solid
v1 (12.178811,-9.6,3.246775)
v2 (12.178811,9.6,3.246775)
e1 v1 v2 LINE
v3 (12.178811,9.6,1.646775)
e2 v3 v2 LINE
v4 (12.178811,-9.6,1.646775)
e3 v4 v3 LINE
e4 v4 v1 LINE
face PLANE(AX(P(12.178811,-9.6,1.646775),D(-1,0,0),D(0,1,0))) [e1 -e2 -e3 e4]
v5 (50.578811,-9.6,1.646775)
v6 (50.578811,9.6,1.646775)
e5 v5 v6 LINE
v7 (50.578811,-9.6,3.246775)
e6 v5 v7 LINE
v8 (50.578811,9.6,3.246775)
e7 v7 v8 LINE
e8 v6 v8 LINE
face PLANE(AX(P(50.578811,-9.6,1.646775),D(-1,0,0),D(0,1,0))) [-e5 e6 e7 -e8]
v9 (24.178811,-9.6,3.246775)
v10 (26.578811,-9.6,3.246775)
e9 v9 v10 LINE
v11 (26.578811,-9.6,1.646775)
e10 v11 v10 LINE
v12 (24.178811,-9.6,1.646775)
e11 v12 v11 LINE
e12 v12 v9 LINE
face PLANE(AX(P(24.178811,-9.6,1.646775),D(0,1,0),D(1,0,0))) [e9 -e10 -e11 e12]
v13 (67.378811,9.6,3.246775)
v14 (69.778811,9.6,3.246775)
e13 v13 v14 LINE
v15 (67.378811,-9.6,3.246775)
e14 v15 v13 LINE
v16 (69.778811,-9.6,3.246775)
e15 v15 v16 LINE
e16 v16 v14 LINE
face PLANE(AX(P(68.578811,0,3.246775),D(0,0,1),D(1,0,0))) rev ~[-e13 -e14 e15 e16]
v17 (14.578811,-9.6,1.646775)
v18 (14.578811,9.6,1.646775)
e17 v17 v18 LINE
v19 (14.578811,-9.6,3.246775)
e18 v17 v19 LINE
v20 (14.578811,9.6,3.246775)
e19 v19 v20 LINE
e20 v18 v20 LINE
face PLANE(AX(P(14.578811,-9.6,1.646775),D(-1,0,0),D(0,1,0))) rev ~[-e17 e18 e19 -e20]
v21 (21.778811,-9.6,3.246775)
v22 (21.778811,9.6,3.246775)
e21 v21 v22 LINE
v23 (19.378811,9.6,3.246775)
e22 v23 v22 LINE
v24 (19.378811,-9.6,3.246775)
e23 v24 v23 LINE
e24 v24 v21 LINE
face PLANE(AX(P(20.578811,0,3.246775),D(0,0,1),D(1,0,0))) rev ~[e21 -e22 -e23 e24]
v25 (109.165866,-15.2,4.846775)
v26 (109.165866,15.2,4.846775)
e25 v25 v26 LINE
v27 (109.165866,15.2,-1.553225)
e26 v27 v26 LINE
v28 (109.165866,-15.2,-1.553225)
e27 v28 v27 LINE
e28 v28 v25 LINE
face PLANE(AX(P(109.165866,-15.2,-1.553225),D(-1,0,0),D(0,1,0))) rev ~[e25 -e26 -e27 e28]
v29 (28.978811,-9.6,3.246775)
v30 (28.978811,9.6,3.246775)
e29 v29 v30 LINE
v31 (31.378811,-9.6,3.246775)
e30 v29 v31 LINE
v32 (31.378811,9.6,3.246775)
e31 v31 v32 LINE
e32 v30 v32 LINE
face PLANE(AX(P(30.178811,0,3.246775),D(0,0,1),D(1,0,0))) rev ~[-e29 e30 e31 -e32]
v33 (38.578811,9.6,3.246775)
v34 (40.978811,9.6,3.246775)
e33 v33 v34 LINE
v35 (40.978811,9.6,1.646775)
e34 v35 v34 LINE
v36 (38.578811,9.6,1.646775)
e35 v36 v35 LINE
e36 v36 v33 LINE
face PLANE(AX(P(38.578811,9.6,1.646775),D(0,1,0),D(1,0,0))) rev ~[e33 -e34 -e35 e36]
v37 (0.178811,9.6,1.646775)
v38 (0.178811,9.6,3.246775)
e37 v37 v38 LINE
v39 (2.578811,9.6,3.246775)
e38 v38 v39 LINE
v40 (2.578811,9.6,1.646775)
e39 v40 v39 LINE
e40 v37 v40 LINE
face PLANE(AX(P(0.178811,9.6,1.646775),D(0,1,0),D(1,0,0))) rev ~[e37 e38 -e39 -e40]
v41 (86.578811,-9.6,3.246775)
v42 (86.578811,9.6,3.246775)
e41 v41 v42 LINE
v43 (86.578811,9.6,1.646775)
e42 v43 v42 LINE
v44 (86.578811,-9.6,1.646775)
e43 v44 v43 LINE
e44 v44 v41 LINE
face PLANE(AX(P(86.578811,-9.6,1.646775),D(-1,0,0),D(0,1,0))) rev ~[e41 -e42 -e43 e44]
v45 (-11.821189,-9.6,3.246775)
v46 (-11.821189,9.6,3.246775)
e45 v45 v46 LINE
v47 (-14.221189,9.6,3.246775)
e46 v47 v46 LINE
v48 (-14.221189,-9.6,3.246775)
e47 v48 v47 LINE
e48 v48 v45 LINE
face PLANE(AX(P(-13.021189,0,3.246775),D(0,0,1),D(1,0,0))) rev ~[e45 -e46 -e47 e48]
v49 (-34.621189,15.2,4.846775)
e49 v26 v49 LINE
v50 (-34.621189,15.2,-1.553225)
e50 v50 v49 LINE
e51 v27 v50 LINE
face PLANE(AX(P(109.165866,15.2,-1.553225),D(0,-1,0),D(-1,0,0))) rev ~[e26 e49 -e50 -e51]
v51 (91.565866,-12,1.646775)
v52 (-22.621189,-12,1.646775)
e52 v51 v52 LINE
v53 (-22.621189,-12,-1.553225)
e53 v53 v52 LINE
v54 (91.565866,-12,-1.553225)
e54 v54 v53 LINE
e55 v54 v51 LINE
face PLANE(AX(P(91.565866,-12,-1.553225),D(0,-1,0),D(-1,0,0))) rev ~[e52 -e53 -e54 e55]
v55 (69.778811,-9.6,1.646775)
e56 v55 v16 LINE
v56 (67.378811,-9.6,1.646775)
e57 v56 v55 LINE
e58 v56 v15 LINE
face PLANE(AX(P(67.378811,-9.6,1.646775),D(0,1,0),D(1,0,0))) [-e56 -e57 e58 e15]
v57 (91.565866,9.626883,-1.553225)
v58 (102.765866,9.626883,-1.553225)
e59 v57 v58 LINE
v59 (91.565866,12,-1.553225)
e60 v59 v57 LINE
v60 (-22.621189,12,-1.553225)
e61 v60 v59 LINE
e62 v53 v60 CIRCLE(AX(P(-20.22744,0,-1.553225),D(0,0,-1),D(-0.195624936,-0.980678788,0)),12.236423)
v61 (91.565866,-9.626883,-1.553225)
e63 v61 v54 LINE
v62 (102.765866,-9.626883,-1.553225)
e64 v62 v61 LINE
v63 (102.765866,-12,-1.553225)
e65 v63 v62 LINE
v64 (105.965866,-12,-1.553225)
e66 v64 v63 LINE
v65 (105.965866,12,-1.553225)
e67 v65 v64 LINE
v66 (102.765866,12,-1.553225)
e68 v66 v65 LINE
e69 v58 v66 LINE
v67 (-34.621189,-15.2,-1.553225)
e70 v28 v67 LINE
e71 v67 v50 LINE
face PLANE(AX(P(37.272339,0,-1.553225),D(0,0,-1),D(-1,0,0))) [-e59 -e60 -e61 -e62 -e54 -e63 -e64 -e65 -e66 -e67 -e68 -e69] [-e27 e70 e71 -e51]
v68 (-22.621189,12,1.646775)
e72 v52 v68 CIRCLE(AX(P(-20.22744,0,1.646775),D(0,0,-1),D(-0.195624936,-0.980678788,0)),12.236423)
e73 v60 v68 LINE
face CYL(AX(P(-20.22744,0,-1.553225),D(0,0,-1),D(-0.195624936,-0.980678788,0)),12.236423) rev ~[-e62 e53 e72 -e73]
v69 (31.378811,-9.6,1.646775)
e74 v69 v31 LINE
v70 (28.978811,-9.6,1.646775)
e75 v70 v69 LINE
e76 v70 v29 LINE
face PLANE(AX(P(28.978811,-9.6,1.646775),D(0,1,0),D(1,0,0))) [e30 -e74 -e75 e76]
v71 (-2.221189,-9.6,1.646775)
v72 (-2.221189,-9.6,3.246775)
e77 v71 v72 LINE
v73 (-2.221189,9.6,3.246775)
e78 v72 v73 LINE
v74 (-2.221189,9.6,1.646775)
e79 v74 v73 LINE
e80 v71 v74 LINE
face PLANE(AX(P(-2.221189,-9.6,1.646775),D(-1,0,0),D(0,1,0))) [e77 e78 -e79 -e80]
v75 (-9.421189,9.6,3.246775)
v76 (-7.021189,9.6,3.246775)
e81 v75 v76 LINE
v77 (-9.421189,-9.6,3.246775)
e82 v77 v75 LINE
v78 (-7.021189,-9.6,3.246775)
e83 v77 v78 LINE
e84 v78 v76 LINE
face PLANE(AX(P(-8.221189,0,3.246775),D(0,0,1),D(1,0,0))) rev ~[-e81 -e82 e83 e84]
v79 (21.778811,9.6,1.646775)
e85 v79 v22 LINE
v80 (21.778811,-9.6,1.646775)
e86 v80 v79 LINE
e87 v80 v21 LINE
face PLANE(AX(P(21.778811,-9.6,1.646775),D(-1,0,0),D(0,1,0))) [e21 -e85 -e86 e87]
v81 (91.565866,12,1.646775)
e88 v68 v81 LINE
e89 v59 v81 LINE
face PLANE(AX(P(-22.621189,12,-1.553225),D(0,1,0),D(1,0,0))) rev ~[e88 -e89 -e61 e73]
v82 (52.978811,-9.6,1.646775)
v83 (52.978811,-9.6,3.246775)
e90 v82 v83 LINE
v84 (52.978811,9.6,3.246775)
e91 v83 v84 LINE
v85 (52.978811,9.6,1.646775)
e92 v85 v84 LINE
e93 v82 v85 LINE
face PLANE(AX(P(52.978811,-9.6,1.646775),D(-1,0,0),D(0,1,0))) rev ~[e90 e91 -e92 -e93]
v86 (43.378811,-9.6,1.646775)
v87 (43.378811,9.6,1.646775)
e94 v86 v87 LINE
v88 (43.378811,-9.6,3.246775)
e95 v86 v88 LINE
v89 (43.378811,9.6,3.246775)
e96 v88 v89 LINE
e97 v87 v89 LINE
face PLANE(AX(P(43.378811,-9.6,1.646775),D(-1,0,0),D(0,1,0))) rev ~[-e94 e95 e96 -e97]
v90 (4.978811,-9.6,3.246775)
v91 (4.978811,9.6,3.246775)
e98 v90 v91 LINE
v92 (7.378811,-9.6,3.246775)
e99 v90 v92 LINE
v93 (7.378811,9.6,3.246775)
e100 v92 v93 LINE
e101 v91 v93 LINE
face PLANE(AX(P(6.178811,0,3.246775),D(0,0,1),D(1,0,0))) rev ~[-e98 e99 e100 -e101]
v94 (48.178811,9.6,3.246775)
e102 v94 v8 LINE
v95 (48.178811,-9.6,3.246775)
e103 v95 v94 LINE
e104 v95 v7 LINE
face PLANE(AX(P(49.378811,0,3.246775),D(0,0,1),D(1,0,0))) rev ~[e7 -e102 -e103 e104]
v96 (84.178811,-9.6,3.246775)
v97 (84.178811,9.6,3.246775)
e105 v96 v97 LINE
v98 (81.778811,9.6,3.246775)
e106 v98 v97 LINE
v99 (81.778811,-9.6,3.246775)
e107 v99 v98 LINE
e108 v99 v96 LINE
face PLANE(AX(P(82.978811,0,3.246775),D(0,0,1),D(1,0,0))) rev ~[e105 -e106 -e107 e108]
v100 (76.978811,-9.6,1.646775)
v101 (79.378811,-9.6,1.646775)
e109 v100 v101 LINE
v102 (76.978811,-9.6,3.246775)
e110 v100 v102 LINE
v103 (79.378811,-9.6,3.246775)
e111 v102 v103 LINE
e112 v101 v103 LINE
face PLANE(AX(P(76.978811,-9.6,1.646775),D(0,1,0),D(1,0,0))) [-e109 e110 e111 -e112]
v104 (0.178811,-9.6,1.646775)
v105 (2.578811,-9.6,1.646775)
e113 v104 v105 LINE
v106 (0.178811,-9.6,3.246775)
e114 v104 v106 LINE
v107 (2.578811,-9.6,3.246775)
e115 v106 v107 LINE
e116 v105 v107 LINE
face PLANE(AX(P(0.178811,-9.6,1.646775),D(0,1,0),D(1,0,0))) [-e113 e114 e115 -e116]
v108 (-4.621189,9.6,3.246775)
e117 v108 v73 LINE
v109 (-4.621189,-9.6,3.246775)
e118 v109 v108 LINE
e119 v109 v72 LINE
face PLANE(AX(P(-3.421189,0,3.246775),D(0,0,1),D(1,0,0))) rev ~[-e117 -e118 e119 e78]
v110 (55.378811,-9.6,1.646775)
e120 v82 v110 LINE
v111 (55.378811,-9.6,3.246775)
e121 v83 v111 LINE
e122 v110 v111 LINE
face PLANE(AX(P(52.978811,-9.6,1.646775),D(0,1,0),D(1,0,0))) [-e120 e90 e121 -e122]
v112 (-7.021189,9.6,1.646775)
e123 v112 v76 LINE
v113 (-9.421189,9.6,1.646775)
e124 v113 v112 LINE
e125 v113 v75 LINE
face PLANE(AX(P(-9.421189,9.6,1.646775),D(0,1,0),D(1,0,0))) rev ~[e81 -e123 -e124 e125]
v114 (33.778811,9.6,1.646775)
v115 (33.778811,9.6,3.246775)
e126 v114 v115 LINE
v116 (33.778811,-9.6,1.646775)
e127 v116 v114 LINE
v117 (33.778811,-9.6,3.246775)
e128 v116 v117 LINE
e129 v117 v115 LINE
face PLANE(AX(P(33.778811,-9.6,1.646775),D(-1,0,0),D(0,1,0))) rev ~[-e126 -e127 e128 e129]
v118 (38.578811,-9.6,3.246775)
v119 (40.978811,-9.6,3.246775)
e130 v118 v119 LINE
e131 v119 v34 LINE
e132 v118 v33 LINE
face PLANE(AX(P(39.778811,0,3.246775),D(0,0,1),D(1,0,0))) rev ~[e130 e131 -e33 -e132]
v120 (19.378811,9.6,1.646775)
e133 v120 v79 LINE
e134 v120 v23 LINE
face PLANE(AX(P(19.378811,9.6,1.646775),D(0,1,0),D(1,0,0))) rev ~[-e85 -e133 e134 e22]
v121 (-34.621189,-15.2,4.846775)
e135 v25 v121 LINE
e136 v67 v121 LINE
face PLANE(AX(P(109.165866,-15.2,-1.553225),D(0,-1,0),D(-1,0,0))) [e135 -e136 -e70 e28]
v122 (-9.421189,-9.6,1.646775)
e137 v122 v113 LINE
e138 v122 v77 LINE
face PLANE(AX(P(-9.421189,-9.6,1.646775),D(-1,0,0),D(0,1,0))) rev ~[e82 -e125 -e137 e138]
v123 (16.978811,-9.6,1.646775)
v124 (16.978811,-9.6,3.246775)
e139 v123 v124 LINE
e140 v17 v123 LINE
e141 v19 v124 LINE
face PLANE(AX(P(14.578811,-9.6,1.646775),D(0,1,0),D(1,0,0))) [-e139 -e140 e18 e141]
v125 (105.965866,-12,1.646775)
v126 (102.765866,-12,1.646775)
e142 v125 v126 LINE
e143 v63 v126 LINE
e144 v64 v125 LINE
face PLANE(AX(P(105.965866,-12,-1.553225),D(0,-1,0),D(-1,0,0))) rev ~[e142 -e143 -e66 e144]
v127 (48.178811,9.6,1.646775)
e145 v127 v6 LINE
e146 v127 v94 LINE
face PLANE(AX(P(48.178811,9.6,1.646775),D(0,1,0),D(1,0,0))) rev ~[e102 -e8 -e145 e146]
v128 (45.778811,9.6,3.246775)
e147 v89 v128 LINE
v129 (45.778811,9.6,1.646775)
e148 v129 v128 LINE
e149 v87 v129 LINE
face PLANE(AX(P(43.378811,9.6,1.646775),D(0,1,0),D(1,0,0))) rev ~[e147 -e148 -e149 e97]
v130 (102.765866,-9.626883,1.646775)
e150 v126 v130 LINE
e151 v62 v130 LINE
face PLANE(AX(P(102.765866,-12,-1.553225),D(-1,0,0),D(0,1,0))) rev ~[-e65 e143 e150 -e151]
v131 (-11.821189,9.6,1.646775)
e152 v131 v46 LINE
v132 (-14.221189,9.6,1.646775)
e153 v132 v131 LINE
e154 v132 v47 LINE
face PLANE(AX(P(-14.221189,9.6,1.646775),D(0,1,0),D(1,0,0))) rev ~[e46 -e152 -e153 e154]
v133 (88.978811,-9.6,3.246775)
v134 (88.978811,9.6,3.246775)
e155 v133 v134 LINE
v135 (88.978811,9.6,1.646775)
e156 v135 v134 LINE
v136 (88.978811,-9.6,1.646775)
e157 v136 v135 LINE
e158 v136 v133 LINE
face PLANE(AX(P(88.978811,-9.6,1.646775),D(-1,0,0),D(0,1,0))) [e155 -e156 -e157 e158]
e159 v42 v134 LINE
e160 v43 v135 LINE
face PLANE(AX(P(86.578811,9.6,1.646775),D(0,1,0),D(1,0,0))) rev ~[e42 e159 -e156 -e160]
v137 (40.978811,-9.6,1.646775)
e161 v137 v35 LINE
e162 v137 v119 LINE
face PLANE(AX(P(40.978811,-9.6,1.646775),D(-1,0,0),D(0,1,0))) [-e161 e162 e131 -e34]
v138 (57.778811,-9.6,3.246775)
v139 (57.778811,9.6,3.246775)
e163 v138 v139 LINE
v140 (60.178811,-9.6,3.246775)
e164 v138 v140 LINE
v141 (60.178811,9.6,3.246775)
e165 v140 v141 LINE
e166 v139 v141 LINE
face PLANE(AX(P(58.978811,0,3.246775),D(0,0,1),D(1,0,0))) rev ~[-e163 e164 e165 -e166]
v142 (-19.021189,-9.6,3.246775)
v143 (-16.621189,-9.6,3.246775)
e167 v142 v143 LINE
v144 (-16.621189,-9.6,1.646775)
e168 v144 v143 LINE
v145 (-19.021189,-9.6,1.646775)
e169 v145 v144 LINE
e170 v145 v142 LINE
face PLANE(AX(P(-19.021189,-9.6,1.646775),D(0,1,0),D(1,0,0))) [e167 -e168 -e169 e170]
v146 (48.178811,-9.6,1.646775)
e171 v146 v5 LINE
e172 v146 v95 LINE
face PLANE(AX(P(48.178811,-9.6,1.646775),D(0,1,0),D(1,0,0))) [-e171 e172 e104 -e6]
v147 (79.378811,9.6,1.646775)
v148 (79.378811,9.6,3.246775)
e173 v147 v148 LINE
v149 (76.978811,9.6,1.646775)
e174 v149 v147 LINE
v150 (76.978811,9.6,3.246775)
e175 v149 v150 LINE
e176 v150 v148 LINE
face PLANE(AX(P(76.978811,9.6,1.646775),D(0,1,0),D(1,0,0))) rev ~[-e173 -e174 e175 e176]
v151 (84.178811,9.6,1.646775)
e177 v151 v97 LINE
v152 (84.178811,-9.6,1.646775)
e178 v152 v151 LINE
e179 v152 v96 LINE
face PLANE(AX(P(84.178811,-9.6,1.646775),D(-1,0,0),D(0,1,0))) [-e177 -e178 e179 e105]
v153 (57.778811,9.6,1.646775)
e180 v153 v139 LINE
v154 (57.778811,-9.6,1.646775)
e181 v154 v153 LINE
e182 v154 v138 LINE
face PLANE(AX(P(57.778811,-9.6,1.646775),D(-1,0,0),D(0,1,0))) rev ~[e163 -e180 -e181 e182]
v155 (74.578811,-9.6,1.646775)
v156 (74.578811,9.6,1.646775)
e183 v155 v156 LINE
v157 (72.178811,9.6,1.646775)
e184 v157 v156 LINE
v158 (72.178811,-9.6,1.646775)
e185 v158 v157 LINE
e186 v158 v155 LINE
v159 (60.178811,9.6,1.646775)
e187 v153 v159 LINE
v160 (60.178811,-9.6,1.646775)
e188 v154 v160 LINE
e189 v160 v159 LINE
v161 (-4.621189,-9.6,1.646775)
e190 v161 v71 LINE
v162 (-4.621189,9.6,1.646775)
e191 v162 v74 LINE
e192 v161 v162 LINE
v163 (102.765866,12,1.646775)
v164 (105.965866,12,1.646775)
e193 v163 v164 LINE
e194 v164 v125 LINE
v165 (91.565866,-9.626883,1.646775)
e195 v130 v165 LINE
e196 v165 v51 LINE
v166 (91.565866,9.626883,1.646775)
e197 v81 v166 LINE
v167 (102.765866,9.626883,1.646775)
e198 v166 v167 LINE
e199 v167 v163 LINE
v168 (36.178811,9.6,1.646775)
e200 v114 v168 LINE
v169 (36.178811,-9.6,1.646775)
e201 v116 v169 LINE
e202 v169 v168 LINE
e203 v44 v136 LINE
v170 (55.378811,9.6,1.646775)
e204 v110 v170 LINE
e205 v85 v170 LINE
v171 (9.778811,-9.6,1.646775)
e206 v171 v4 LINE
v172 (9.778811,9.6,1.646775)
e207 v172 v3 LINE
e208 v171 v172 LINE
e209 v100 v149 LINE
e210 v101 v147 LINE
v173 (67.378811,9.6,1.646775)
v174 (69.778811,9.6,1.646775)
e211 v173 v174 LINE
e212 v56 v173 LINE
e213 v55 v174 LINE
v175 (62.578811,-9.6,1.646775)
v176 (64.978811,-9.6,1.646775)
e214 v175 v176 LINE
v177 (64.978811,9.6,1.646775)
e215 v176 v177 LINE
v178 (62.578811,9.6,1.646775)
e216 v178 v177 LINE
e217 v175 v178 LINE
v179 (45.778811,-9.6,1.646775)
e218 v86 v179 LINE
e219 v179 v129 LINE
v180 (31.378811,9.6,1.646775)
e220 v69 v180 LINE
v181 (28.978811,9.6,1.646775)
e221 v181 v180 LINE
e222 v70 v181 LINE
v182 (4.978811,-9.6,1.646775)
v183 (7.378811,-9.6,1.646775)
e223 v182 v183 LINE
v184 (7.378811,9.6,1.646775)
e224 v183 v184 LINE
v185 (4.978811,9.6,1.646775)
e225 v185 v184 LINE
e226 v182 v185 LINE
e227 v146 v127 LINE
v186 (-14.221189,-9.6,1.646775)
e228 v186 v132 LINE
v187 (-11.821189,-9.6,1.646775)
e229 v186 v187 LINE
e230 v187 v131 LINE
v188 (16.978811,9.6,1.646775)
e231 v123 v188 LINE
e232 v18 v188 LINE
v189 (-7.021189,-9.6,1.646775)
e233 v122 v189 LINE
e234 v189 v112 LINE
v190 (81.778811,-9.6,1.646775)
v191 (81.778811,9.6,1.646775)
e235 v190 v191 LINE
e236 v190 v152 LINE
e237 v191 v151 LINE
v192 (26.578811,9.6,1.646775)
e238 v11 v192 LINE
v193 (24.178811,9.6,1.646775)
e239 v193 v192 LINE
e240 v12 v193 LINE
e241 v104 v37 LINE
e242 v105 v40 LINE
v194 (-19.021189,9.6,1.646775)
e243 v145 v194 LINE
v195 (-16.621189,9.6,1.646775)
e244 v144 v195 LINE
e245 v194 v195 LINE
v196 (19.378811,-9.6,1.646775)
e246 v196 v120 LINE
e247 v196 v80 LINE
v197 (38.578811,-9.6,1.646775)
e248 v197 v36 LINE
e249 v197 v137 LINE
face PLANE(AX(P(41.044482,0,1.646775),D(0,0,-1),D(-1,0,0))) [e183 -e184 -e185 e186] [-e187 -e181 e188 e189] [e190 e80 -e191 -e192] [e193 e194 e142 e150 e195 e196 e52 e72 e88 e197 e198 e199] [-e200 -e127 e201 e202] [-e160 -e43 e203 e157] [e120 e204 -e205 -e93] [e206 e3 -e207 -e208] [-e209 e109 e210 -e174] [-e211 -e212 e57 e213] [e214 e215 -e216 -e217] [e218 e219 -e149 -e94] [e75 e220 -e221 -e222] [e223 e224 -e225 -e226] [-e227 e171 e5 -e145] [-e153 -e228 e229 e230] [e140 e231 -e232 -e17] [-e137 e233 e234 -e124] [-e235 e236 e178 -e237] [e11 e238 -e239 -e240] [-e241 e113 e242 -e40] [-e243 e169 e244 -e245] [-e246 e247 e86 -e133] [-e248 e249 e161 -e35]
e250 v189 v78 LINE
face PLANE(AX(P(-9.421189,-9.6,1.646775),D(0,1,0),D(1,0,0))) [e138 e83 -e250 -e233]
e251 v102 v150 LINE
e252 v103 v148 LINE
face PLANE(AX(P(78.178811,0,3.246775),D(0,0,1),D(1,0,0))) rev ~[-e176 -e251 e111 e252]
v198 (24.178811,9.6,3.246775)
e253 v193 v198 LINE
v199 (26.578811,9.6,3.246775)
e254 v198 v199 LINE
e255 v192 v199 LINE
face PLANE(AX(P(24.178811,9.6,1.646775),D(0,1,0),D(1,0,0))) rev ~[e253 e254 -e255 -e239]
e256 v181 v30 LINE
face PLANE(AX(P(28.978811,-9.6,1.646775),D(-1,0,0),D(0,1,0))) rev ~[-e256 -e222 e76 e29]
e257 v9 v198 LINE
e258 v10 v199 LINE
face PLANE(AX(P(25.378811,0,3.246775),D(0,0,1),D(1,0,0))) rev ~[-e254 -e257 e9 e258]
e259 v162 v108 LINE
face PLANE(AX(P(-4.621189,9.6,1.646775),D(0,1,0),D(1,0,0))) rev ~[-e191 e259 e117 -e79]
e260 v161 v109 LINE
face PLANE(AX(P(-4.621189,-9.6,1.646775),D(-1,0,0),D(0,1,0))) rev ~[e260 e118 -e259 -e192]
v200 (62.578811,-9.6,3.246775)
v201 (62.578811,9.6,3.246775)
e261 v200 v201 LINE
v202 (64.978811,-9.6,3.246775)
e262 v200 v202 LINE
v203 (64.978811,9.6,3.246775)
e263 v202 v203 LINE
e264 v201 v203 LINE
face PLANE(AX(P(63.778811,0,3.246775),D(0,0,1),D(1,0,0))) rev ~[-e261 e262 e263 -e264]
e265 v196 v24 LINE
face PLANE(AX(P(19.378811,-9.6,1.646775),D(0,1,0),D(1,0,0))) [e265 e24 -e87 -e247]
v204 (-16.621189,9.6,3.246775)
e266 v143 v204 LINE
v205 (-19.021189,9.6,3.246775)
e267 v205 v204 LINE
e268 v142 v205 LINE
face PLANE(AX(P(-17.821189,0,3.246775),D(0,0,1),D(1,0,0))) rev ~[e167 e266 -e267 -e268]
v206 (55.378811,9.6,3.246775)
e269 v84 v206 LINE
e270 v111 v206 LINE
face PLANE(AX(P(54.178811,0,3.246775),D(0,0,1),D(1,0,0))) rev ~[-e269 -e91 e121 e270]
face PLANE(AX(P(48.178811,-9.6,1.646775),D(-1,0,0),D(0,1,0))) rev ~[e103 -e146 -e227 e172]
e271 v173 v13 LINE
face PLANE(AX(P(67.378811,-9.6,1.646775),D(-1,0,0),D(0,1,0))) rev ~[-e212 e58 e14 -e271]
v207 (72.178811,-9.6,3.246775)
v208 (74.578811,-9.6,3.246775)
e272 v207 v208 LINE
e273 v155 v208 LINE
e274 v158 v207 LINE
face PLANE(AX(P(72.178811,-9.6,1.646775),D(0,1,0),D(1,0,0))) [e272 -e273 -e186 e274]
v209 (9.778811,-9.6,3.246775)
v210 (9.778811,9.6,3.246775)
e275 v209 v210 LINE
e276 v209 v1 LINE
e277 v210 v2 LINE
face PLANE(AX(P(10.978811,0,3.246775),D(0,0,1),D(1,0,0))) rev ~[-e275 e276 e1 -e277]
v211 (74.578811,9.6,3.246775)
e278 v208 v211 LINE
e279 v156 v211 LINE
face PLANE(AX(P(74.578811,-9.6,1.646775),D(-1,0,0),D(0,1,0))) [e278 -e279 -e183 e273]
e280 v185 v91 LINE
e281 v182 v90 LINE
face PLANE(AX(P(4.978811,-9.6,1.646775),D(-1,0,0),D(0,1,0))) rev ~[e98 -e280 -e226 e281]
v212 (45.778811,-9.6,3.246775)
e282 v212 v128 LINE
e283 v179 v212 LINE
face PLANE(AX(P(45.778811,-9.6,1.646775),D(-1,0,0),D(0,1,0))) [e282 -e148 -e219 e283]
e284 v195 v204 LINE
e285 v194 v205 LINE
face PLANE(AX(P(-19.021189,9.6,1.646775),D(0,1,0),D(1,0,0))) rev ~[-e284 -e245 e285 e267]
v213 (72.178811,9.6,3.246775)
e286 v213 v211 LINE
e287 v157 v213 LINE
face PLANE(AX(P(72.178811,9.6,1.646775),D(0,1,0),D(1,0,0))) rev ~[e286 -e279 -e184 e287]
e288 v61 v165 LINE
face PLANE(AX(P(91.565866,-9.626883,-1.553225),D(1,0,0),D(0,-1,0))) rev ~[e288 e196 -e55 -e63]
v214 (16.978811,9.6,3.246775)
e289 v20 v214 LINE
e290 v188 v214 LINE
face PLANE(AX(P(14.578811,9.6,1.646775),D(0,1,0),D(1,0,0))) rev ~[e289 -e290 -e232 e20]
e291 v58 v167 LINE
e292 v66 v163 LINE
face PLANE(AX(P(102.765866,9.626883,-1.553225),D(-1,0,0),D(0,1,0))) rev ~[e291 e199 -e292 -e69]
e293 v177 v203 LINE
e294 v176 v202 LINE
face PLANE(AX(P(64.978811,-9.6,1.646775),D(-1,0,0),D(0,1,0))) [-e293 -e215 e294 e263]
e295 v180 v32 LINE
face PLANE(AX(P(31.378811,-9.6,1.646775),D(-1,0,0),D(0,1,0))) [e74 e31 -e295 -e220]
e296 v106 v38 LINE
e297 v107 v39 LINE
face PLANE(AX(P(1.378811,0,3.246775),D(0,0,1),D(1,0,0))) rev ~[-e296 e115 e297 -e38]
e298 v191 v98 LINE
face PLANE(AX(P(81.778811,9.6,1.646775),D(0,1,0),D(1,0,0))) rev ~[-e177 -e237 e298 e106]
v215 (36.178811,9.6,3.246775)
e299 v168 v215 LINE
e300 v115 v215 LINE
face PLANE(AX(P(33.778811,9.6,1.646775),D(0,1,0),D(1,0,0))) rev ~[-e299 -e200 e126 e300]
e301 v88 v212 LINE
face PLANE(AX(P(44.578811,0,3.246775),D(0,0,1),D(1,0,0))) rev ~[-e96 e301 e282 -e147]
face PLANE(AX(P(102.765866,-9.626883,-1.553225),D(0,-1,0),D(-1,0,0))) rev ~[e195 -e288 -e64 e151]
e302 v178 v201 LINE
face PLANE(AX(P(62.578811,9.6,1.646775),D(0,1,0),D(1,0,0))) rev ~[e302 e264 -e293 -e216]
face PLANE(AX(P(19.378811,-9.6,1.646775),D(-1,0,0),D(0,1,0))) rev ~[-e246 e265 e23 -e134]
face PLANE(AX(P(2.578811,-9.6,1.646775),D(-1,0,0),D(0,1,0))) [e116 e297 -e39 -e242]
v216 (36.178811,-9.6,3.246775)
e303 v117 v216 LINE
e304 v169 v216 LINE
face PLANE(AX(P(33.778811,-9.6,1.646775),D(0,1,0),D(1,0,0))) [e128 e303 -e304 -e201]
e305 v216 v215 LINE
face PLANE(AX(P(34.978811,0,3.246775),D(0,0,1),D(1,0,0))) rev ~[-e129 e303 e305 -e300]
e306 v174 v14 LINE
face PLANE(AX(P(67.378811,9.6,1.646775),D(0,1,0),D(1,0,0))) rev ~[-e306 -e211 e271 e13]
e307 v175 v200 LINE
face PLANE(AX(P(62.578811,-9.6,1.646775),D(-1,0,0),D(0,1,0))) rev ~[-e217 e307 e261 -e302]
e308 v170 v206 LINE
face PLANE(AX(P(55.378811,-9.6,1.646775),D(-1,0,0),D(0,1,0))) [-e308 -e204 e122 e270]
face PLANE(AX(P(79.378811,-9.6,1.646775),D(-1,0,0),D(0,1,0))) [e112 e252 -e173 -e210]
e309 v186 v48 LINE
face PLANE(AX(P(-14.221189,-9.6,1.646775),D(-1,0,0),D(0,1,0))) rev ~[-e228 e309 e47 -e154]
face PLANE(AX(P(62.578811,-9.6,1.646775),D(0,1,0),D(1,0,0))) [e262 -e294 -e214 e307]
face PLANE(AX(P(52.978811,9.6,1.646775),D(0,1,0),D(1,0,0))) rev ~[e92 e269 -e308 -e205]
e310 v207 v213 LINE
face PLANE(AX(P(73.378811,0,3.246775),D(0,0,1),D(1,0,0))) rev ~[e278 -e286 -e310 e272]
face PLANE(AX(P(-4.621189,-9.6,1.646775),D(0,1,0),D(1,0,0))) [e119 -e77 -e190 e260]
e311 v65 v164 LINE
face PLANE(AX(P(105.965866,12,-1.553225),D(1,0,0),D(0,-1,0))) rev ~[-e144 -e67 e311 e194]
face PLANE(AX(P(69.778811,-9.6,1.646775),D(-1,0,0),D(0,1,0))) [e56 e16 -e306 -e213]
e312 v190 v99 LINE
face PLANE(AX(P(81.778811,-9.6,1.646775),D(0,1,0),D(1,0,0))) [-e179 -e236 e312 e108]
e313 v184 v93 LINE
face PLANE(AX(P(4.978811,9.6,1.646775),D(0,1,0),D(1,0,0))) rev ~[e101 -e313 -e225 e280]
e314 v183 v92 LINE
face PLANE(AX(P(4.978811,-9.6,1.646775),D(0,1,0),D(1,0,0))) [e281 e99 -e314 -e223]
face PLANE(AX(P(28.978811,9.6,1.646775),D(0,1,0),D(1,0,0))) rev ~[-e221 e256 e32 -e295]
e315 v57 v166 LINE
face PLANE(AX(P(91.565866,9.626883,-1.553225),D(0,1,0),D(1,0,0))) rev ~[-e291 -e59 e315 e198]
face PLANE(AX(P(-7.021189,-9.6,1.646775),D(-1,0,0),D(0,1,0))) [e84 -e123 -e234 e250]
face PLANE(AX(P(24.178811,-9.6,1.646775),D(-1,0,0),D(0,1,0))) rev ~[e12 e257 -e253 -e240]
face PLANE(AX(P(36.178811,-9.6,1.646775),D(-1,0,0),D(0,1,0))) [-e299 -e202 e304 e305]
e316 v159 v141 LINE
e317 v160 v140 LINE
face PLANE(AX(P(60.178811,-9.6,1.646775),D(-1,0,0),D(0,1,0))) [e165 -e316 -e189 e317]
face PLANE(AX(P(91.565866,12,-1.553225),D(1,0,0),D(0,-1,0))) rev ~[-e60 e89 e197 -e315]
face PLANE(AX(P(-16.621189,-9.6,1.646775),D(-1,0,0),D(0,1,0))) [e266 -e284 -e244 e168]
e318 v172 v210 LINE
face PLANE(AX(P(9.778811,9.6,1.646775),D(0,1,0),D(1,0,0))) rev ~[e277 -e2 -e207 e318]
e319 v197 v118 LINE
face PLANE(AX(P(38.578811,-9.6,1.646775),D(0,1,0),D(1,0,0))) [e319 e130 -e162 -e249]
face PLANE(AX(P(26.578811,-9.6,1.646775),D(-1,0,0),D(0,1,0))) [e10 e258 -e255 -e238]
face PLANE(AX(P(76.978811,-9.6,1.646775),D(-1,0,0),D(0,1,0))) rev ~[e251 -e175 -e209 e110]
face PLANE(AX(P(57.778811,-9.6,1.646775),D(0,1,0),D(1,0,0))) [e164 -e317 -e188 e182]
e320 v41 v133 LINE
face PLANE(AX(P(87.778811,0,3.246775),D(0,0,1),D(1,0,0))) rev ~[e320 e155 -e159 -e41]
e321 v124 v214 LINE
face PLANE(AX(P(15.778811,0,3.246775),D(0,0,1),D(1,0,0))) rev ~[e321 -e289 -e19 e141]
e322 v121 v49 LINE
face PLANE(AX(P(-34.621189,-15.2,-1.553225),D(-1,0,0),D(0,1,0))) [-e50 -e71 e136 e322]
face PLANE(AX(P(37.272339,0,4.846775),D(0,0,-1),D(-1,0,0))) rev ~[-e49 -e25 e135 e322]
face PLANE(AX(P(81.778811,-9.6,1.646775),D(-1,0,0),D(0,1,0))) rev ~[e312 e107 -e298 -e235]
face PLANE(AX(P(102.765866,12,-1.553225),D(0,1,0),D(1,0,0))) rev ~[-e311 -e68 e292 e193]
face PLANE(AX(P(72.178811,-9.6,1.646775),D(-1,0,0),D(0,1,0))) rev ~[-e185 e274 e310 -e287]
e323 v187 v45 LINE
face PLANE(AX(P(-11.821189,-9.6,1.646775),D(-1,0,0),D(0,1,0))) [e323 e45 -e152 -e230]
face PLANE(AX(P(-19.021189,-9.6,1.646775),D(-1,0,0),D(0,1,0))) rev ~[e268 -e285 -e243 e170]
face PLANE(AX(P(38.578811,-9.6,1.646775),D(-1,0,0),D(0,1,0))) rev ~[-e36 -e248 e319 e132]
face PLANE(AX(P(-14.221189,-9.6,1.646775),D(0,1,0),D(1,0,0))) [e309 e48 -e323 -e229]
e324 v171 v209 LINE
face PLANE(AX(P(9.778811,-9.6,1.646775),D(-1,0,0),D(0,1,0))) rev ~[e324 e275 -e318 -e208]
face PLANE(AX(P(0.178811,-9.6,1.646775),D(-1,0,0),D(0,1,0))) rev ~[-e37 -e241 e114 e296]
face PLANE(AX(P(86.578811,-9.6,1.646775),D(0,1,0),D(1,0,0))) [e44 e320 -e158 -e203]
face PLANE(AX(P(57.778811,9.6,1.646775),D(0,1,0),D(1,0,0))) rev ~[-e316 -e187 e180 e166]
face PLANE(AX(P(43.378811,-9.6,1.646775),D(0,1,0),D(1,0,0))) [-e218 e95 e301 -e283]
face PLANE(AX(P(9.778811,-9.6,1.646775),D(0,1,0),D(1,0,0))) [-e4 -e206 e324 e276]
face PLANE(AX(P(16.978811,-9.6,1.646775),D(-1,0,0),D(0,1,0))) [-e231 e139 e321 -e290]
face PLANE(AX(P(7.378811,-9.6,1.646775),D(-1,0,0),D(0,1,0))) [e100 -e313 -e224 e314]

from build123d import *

# Parameters (mm, degrees)
EXTRUDE_1_DEPTH = 2
SKETCH_2_W      = 1.5
SKETCH_2_H      = 12
EXTRUDE_2_DEPTH = 1
SKETCH_3_W      = 89.86690944
SKETCH_3_H      = 19
EXTRUDE_3_DEPTH = 4
SCALE_1_SCALE   = 1.6


with BuildPart() as part:
    # 草图1 → 凸台-拉伸1 (new body)
    with BuildSketch(Plane.XY):
        with BuildLine():
            Line((0, 7.5), (71.36690944, 7.5))
            Line((71.36690944, 7.5), (71.36690944, 6.01680195))
            Line((71.36690944, 6.01680195), (78.36690944, 6.01680195))
            Line((78.36690944, 6.01680195), (78.36690944, 7.5))
            Line((78.36690944, 7.5), (80.36690944, 7.5))
            Line((80.36690944, 7.5), (80.36690944, -7.5))
            Line((80.36690944, -7.5), (78.36690944, -7.5))
            Line((78.36690944, -7.5), (78.36690944, -6.01680195))
            Line((78.36690944, -6.01680195), (71.36690944, -6.01680195))
            Line((71.36690944, -6.01680195), (71.36690944, -7.5))
            Line((71.36690944, -7.5), (0, -7.5))
            ThreePointArc((0, -7.5), (-6.151670717, 0), (0, 7.5))
        make_face()
    extrude(amount=EXTRUDE_1_DEPTH)

    # 草图2 → 凸台-拉伸2 (add)
    with BuildSketch(Plane.XY.offset(2)):
        with Locations((3, 0)):
            Rectangle(SKETCH_2_W, SKETCH_2_H)
        with Locations((6, 0)):
            Rectangle(SKETCH_2_W, SKETCH_2_H)
        with Locations((9, 0)):
            Rectangle(SKETCH_2_W, SKETCH_2_H)
        with Locations((12, 0)):
            Rectangle(SKETCH_2_W, SKETCH_2_H)
        with Locations((15, 0)):
            Rectangle(SKETCH_2_W, SKETCH_2_H)
        with Locations((18, 0)):
            Rectangle(SKETCH_2_W, SKETCH_2_H)
        with Locations((21, 0)):
            Rectangle(SKETCH_2_W, SKETCH_2_H)
        with Locations((24, 0)):
            Rectangle(SKETCH_2_W, SKETCH_2_H)
        with Locations((27, 0)):
            Rectangle(SKETCH_2_W, SKETCH_2_H)
        with Locations((30, 0)):
            Rectangle(SKETCH_2_W, SKETCH_2_H)
        with Locations((33, 0)):
            Rectangle(SKETCH_2_W, SKETCH_2_H)
        with Locations((36, 0)):
            Rectangle(SKETCH_2_W, SKETCH_2_H)
        with Locations((39, 0)):
            Rectangle(SKETCH_2_W, SKETCH_2_H)
        with Locations((42, 0)):
            Rectangle(SKETCH_2_W, SKETCH_2_H)
        with Locations((45, 0)):
            Rectangle(SKETCH_2_W, SKETCH_2_H)
        with Locations((48, 0)):
            Rectangle(SKETCH_2_W, SKETCH_2_H)
        with Locations((51, 0)):
            Rectangle(SKETCH_2_W, SKETCH_2_H)
        with Locations((54, 0)):
            Rectangle(SKETCH_2_W, SKETCH_2_H)
        with Locations((57, 0)):
            Rectangle(SKETCH_2_W, SKETCH_2_H)
        with Locations((60, 0)):
            Rectangle(SKETCH_2_W, SKETCH_2_H)
        with Locations((63, 0)):
            Rectangle(SKETCH_2_W, SKETCH_2_H)
        with Locations((66, 0)):
            Rectangle(SKETCH_2_W, SKETCH_2_H)
        with Locations((69, 0)):
            Rectangle(SKETCH_2_W, SKETCH_2_H)
    extrude(amount=EXTRUDE_2_DEPTH)


with BuildPart() as body_2:
    # 草图3 → 凸台-拉伸3 (new body)
    with BuildSketch(Plane(origin=(0, 0, 0), x_dir=(-1, 0, 0), z_dir=(0, 0, -1))):
        with Locations((-37.43345472, 0)):
            Rectangle(SKETCH_3_W, SKETCH_3_H)
    extrude(amount=-EXTRUDE_3_DEPTH)

    # Combine 1: cut part
    add(part.part, mode=Mode.SUBTRACT)


with BuildPart() as body_2_1:
    # 缩放比例1: scaled about (37.701981545, 0, 2.588708168)
    add(body_2.part.scale(SCALE_1_SCALE).moved(Location((-22.621188927, 0, -1.553224901))))


solid = body_2_1.part
